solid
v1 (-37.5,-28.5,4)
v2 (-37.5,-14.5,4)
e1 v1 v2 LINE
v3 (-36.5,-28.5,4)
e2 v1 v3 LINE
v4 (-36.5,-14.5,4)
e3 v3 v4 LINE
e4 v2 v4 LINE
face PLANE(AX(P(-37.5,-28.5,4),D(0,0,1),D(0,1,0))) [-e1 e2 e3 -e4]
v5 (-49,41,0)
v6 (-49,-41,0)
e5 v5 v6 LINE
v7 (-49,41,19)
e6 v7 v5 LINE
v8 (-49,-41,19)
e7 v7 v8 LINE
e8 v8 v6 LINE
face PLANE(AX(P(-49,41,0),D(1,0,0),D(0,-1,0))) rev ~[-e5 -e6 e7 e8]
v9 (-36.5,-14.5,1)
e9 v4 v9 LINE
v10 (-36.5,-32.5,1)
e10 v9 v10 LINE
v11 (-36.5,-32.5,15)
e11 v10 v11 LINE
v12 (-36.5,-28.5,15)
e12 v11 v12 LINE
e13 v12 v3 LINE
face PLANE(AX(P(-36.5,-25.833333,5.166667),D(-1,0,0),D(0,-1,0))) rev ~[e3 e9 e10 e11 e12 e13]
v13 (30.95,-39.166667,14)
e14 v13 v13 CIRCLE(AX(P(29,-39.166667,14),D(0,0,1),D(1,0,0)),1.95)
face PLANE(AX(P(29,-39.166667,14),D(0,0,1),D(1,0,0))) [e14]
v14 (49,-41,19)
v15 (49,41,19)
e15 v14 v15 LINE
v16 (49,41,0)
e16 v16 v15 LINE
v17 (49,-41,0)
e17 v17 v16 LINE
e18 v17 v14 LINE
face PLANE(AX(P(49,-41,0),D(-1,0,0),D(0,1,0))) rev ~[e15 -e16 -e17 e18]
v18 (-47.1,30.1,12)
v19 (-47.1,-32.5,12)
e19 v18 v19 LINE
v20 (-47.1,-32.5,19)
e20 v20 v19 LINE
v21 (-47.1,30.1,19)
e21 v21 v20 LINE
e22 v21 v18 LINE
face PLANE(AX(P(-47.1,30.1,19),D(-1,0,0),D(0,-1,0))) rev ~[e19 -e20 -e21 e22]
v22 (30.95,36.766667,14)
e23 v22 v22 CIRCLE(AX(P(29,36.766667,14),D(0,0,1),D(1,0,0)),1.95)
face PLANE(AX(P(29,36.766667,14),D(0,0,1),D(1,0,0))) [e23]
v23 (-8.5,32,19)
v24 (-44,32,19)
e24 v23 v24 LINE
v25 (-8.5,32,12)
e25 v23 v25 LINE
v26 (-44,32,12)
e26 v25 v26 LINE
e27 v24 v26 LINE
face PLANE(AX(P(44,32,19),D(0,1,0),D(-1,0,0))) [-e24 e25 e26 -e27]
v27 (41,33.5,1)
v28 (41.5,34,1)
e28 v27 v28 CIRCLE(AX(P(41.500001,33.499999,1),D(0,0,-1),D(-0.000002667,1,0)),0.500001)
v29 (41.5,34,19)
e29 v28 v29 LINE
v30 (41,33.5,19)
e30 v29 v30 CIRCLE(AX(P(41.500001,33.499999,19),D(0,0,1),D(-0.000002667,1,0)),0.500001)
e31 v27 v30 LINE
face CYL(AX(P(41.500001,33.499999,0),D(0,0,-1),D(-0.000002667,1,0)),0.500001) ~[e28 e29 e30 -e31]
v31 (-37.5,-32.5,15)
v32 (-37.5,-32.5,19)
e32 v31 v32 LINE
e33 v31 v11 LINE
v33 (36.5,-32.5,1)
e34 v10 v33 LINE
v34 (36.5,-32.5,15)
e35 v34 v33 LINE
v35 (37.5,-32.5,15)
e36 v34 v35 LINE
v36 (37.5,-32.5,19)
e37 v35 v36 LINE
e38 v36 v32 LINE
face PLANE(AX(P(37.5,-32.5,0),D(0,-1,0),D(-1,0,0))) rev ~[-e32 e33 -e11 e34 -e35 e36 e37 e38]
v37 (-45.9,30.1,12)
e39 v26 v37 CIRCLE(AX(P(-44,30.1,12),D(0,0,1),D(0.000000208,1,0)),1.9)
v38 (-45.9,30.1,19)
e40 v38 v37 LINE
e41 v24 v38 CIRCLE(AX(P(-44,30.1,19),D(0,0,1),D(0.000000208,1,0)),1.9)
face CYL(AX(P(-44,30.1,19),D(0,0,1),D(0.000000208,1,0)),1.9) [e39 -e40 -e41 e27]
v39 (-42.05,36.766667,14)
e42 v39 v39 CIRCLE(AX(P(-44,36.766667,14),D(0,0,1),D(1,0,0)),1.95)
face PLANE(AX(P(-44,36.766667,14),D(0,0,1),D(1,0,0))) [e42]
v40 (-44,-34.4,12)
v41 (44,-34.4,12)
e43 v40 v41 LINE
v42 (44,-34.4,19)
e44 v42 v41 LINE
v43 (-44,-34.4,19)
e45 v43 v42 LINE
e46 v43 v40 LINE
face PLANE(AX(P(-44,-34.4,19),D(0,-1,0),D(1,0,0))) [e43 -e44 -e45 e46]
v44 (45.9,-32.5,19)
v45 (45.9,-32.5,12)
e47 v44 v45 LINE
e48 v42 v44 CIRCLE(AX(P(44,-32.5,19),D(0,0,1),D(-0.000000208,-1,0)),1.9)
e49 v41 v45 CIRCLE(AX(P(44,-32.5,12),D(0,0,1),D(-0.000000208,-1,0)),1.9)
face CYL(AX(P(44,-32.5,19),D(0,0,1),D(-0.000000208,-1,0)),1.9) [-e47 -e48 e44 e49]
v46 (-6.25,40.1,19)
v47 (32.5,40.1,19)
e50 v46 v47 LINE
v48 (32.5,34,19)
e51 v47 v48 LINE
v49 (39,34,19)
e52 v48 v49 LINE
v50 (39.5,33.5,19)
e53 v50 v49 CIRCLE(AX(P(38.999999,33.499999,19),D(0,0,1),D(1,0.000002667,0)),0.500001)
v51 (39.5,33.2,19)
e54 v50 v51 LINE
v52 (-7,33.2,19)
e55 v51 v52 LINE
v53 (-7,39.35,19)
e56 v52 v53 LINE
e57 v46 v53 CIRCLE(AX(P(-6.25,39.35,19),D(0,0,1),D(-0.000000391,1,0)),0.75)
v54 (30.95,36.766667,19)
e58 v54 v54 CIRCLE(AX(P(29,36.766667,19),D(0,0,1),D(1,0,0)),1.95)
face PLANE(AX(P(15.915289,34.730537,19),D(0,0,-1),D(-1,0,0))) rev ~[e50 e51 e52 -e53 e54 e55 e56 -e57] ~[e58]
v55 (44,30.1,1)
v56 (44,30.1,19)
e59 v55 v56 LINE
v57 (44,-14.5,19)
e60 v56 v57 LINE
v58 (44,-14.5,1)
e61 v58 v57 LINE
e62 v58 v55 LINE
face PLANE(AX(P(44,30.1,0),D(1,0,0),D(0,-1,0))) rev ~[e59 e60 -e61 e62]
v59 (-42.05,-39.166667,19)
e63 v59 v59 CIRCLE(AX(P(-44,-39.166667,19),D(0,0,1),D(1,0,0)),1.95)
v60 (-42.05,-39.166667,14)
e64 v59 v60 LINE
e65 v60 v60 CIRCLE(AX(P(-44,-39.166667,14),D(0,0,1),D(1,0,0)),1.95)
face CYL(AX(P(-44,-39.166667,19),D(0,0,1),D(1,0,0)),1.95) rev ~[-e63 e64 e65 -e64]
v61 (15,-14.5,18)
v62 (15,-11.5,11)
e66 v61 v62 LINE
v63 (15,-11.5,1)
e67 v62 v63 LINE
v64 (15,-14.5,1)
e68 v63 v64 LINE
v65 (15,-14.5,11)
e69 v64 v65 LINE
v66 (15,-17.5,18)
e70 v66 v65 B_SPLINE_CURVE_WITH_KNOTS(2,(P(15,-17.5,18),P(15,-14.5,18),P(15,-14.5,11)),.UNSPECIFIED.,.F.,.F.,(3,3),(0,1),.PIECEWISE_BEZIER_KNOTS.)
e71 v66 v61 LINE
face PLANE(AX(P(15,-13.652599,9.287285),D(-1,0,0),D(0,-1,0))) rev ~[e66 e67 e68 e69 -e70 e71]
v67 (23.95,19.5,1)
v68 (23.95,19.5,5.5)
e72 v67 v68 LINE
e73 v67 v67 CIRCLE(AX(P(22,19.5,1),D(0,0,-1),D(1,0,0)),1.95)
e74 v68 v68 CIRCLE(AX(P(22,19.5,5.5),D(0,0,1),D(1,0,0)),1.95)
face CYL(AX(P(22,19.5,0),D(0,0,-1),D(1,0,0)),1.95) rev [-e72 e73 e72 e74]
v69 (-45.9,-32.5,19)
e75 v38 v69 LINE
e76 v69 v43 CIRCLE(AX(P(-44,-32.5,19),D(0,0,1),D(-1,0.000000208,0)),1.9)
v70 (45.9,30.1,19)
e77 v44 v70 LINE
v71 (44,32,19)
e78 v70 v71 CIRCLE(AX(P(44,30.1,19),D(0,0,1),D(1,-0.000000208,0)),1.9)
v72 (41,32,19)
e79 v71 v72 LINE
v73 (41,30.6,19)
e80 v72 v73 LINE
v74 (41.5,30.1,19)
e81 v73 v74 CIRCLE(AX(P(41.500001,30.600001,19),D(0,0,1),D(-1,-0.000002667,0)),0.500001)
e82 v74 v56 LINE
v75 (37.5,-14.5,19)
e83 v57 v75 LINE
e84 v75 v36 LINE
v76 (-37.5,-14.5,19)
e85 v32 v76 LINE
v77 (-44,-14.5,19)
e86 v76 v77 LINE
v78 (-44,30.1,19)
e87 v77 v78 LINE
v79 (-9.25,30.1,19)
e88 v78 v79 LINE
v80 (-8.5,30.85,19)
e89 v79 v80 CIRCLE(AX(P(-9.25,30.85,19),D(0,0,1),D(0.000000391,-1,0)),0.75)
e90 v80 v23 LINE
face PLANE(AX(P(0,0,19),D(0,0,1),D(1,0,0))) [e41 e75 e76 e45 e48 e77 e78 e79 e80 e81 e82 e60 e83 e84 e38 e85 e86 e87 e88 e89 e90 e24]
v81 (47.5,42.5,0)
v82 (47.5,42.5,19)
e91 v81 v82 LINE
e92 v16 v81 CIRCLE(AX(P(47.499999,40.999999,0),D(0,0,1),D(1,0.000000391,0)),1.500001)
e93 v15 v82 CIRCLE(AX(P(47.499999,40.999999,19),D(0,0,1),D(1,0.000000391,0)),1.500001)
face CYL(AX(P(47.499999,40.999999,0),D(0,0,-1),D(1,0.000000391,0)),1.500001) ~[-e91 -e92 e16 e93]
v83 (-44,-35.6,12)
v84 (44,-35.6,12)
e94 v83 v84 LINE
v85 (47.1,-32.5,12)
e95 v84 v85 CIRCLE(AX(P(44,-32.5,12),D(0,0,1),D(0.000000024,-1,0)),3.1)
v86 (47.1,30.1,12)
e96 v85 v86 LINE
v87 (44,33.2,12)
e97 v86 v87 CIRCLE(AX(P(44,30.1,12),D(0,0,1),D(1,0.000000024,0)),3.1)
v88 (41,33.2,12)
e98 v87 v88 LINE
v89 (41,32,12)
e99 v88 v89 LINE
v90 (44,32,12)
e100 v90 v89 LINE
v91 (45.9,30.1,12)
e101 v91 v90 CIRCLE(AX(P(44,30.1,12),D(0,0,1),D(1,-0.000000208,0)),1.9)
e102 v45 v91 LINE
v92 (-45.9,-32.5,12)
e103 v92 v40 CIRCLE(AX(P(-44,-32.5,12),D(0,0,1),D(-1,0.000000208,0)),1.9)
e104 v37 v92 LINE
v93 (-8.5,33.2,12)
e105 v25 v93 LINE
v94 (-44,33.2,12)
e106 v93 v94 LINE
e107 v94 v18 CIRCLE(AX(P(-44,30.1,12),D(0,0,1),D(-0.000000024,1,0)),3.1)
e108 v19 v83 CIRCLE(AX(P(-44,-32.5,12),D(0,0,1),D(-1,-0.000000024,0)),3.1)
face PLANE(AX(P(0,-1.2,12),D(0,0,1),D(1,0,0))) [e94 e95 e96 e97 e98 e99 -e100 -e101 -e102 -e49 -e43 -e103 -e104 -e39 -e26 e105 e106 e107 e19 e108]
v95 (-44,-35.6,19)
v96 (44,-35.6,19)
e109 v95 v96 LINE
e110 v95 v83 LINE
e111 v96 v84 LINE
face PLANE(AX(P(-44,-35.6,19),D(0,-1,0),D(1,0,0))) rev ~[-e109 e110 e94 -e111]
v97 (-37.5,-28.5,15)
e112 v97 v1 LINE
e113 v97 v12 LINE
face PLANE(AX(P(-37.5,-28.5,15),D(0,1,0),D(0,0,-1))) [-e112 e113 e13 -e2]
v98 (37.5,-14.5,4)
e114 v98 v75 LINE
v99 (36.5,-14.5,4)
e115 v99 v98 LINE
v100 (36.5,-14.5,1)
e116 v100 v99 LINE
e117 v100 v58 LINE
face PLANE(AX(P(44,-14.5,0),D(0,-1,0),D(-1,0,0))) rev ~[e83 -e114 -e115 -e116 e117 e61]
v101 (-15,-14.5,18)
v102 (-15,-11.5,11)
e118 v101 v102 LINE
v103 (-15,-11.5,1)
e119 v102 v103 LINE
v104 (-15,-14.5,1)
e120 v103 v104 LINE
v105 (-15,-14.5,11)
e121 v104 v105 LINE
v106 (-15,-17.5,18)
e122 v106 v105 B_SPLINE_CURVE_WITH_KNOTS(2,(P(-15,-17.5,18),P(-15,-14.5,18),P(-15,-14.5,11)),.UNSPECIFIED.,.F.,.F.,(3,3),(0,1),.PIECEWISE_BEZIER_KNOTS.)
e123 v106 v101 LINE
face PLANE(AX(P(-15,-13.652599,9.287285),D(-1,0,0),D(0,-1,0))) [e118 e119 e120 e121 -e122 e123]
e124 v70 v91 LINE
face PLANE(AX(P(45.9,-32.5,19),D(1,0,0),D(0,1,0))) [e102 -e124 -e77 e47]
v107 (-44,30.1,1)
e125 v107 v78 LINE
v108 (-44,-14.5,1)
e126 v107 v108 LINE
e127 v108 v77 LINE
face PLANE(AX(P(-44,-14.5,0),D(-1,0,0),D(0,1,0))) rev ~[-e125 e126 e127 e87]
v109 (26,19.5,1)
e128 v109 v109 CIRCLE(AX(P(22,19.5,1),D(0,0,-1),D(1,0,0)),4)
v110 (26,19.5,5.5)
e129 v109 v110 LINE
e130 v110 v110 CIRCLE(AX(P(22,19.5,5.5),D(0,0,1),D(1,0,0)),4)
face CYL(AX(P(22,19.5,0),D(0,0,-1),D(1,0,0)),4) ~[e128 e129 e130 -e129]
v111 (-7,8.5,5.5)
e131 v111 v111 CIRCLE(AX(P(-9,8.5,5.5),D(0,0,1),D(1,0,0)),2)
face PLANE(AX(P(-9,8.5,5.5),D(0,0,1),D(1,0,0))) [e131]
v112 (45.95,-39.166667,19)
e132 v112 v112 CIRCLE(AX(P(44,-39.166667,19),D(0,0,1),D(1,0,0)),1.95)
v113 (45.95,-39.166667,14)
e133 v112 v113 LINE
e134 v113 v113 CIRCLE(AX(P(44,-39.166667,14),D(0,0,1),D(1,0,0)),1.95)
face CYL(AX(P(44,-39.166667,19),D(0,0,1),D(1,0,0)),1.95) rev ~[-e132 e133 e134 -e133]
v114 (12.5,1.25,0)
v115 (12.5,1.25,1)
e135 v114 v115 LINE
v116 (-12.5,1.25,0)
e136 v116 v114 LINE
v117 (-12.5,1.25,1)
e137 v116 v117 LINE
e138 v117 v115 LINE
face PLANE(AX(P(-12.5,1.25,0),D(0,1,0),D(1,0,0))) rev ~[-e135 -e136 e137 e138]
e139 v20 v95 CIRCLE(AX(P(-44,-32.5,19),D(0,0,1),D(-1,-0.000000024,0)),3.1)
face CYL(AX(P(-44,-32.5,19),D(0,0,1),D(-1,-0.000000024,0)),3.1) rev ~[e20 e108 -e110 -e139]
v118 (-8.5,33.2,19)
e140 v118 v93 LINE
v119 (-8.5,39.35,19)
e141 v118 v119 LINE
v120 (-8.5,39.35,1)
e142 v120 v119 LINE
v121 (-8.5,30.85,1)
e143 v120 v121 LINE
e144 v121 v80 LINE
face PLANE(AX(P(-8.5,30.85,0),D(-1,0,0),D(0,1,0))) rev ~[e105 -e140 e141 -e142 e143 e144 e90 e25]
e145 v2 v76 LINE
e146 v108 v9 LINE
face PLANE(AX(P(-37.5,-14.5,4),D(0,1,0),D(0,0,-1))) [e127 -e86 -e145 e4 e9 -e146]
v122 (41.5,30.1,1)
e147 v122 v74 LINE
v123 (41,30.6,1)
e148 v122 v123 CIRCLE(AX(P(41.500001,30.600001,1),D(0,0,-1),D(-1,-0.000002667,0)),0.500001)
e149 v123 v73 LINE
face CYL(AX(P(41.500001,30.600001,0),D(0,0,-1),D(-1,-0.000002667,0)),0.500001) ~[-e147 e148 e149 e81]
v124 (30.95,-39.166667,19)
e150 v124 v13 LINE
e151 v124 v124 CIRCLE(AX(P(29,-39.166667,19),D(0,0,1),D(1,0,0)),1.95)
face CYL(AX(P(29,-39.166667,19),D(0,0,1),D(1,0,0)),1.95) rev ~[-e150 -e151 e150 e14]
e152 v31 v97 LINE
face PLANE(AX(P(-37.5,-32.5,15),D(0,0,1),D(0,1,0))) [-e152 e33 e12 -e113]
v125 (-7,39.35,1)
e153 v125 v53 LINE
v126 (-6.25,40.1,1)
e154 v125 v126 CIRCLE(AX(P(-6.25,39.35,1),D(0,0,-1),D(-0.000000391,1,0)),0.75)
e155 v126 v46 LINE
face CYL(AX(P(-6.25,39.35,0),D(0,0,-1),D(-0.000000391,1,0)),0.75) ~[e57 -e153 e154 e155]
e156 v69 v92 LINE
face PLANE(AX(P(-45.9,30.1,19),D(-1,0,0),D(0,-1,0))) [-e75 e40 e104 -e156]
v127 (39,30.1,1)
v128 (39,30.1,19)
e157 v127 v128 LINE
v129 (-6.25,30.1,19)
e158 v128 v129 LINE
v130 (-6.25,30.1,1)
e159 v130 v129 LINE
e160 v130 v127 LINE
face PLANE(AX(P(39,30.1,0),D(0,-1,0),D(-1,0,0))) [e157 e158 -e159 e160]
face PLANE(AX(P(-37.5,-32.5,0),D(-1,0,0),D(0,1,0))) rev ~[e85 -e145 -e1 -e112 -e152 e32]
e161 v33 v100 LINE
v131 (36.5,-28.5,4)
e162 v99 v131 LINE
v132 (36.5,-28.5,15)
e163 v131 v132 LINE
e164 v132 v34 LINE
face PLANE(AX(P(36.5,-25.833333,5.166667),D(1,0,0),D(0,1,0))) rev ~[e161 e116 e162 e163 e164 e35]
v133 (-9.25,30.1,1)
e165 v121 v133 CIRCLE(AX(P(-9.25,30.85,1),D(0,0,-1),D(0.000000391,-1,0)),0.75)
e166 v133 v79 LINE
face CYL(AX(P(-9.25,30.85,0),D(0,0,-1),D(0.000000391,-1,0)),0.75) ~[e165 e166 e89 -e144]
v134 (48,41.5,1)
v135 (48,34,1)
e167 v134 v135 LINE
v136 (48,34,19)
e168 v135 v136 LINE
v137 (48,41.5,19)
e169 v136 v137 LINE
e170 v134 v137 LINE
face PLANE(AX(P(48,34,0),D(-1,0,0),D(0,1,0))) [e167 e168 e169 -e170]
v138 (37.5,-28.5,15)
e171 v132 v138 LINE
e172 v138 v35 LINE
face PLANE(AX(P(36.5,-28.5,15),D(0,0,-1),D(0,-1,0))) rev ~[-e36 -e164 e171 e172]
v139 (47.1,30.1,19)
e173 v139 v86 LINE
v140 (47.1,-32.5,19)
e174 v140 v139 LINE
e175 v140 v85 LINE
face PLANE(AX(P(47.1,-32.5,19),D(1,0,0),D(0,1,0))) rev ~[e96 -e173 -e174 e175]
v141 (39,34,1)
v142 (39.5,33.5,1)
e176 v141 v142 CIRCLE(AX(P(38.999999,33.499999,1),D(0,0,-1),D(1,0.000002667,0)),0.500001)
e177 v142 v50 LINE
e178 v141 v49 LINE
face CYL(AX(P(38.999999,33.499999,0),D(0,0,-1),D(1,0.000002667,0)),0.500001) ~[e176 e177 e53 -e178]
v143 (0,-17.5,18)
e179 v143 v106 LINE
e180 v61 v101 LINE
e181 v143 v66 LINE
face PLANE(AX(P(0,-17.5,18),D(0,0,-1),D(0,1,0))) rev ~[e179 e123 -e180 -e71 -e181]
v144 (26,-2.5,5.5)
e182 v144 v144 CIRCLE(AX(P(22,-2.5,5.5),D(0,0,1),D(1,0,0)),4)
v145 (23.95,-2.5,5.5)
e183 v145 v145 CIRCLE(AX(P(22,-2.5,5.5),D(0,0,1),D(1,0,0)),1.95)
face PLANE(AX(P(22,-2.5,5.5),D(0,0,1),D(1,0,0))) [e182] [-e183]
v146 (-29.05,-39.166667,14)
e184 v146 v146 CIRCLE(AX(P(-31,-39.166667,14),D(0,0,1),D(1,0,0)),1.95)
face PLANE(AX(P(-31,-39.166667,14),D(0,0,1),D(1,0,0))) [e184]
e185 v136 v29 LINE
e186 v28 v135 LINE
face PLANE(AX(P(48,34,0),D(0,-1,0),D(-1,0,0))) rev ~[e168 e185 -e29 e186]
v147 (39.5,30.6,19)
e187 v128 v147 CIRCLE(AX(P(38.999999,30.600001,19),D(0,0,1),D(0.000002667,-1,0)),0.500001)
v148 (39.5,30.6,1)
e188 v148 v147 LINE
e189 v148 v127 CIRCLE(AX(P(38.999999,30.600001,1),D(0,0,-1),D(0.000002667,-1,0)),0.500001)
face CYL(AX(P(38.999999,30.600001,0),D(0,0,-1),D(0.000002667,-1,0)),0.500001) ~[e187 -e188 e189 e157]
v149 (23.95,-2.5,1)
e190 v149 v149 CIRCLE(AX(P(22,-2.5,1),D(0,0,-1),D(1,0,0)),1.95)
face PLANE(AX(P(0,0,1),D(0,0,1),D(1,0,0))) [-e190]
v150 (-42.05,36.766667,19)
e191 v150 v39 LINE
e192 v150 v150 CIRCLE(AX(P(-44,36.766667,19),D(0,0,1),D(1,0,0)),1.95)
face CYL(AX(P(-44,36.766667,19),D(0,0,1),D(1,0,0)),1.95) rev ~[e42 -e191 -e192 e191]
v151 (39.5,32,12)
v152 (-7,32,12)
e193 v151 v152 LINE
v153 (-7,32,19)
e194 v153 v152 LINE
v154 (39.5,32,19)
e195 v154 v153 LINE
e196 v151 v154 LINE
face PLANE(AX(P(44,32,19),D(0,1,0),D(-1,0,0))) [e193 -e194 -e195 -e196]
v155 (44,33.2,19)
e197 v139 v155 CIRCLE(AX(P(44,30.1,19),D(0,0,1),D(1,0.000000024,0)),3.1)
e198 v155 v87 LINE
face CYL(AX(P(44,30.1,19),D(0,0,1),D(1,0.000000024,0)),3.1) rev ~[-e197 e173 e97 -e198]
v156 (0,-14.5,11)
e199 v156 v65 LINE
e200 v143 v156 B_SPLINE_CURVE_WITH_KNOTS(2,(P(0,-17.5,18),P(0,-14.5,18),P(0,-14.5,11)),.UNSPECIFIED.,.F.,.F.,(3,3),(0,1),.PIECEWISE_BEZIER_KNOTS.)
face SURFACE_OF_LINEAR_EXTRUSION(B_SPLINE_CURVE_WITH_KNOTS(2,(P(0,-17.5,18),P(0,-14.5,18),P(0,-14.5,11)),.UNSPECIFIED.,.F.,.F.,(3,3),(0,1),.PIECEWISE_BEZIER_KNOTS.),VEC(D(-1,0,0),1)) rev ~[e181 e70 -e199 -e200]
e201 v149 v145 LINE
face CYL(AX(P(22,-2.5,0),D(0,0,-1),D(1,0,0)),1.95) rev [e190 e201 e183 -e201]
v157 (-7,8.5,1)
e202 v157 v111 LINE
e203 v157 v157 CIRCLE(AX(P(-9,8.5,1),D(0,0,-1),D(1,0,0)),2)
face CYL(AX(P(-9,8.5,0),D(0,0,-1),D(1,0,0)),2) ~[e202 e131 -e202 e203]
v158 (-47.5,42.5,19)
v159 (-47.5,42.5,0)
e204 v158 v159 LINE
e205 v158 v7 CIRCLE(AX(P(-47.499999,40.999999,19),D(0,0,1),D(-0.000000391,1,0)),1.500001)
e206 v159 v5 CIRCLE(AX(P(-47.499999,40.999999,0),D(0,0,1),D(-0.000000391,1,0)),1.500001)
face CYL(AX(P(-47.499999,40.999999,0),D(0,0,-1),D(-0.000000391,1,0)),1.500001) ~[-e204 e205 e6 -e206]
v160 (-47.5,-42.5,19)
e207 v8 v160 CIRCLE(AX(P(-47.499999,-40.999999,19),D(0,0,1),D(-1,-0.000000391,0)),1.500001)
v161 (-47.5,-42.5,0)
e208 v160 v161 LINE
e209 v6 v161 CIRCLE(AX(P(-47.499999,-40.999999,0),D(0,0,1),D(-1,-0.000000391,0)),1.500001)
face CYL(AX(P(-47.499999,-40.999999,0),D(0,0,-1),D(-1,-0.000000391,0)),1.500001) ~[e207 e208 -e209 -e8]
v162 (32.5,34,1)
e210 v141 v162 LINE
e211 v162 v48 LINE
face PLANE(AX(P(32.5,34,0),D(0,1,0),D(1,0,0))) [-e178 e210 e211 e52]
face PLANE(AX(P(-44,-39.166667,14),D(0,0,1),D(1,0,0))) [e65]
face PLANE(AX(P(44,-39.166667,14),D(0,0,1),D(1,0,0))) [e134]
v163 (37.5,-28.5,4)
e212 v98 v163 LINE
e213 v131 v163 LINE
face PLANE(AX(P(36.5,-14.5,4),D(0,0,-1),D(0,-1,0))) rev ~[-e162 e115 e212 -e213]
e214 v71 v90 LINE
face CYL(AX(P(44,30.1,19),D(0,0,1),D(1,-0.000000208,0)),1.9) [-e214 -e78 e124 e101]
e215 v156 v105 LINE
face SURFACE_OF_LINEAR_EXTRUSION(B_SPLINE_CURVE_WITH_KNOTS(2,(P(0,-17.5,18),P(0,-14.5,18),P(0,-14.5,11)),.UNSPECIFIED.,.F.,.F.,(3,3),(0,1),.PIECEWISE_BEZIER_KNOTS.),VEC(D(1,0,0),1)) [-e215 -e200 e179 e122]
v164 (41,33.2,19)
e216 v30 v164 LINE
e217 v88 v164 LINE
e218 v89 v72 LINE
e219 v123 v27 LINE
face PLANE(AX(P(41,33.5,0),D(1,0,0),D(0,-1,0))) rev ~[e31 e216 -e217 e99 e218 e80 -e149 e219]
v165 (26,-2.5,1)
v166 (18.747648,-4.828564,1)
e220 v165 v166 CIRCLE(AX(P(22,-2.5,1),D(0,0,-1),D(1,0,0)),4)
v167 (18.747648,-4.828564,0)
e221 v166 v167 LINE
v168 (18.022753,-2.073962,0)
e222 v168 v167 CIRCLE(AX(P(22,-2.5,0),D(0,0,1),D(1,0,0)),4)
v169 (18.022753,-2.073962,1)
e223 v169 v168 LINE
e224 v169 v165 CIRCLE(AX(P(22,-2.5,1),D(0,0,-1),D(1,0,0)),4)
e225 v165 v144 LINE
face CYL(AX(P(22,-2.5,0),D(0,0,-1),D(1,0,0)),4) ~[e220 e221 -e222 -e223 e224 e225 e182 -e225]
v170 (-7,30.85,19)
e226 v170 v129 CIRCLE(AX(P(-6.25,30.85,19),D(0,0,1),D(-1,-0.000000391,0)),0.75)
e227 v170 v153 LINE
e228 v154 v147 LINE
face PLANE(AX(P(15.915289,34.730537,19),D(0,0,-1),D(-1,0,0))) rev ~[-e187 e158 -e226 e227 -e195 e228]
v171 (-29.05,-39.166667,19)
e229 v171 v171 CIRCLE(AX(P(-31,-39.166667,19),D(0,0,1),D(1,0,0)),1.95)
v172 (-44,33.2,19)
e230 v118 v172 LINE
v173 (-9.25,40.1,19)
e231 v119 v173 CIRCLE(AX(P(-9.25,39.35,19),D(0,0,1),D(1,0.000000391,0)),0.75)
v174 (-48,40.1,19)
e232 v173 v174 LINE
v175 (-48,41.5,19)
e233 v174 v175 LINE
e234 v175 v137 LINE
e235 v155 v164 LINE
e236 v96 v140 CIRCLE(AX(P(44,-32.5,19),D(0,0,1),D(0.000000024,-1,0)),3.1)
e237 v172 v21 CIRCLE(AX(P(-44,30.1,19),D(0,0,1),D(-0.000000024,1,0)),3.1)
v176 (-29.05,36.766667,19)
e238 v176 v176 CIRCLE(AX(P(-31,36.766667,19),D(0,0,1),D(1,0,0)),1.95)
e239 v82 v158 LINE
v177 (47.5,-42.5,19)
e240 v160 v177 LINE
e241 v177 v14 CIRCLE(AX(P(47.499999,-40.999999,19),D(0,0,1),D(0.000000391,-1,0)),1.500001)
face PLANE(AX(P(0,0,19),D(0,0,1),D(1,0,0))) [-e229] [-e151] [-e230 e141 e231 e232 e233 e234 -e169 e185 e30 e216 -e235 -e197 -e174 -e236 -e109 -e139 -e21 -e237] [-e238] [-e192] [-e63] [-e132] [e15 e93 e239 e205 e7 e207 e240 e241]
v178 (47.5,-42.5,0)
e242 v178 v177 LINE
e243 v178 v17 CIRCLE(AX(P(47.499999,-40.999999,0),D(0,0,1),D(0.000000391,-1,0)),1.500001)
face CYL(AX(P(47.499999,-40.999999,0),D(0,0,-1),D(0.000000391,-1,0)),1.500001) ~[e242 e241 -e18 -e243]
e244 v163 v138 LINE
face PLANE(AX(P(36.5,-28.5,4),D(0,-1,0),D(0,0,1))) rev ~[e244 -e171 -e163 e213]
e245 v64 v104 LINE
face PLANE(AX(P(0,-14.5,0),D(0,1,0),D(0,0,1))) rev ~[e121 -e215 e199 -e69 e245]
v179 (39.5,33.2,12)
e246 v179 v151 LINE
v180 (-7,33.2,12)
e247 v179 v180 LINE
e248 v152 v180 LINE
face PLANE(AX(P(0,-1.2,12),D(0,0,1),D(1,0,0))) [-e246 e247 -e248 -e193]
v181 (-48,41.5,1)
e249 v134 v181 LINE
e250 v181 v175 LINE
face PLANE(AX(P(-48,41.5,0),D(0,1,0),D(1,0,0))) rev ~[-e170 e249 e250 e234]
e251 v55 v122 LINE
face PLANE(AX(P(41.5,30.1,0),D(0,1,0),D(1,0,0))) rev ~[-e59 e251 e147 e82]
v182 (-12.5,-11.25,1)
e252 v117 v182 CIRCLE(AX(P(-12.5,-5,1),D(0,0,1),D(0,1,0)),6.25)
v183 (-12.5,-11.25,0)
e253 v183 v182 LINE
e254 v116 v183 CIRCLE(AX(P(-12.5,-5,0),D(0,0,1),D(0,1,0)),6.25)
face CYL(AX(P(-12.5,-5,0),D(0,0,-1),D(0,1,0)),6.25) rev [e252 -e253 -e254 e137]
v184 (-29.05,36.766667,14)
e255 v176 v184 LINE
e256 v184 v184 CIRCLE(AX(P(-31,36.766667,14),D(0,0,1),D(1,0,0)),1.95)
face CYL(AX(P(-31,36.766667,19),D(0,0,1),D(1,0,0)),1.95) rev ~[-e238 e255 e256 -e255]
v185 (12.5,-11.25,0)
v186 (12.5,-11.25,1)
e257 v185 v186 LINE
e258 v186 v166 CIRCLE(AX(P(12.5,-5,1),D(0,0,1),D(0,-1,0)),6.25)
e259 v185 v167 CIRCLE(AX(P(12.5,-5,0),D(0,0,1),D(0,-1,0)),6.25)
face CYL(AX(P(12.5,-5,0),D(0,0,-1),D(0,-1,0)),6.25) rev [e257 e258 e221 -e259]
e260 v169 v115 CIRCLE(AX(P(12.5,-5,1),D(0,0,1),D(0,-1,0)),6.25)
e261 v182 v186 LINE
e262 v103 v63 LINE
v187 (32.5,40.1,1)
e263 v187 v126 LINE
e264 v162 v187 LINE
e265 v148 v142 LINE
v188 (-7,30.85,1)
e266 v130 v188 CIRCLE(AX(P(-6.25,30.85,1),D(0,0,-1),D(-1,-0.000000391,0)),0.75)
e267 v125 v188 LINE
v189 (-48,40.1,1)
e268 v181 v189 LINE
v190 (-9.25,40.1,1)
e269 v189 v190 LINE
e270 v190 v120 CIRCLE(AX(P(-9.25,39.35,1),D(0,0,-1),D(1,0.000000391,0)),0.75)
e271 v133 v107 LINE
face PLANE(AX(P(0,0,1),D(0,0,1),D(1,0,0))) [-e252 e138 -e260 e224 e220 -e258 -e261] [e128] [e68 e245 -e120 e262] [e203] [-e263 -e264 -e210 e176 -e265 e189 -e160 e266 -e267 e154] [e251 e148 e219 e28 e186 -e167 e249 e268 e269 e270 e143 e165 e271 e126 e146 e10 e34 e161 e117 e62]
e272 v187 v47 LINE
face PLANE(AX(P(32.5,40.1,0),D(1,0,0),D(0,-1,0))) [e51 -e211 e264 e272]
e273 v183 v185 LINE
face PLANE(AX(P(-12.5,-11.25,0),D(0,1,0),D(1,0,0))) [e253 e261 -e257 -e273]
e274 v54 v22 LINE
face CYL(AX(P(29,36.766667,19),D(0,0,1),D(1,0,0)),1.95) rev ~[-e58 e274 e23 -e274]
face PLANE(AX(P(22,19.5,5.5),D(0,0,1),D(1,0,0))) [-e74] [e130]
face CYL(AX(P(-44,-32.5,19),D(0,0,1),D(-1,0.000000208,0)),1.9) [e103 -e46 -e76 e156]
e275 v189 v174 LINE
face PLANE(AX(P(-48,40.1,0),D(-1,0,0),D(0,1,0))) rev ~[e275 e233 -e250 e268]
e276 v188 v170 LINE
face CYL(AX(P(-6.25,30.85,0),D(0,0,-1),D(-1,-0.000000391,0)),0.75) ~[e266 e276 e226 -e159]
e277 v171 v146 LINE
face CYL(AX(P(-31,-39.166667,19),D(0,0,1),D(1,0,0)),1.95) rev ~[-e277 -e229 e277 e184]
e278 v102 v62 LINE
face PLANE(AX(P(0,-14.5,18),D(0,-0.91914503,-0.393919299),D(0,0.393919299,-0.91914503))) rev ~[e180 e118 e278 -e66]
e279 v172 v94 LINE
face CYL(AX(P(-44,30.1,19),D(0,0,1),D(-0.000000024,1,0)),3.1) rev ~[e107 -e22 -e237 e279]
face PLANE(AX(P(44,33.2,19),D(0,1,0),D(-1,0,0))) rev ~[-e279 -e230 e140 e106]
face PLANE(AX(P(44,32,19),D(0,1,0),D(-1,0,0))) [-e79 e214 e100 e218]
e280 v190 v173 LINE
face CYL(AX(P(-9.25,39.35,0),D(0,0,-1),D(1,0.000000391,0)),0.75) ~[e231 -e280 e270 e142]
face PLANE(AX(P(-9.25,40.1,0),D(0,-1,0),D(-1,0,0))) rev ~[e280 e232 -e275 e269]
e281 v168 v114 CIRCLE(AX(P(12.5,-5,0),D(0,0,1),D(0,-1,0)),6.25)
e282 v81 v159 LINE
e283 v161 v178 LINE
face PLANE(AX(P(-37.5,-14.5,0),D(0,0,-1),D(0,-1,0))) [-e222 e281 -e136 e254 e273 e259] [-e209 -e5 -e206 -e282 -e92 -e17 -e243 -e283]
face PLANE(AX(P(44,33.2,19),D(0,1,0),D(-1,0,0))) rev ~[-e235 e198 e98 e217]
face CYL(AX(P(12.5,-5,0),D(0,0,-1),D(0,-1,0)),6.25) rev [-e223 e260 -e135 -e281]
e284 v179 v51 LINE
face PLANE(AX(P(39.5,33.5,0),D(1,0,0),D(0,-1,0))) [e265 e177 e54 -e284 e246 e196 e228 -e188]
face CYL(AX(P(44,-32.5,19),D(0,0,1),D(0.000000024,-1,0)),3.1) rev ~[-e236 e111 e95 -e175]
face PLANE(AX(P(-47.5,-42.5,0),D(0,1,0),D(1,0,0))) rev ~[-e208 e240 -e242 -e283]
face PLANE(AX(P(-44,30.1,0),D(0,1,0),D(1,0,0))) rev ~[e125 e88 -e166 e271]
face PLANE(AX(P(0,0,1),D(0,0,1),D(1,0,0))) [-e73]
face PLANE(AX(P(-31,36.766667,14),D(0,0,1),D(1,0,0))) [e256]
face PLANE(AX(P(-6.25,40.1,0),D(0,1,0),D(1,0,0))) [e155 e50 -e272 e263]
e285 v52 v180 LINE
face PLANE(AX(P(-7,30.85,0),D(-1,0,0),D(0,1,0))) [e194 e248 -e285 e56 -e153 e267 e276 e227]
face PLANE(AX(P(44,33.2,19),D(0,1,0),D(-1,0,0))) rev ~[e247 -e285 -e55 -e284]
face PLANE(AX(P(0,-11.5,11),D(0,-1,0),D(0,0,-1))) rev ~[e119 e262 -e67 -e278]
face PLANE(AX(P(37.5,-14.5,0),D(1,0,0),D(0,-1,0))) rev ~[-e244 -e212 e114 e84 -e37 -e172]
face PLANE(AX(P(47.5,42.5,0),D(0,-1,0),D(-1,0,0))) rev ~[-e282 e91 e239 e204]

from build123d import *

# Parameters (mm, degrees)
PAD_DEPTH       = 1
PAD001_DEPTH    = 19
SKETCH002_R     = 4
SKETCH002_R_2   = 1.95
SKETCH002_R_3   = 2
PAD002_DEPTH    = 5.5
PAD003_DEPTH    = 15
POCKET_DEPTH    = 7
PAD004_DEPTH    = 1
SKETCH007_R     = 1.95
POCKET001_DEPTH = 5
PAD014_DEPTH    = 1


with BuildPart() as part:
    # Sketch → Pad (new body)
    with BuildSketch(Plane.XY):
        with BuildLine():
            Line((-47.5, -42.5), (47.5, -42.5))
            ThreePointArc((47.5, -42.5), (48.56066, -42.06066), (49, -41))
            Line((49, -41), (49, 41))
            ThreePointArc((49, 41), (48.56066, 42.06066), (47.5, 42.5))
            Line((47.5, 42.5), (-47.5, 42.5))
            ThreePointArc((-47.5, 42.5), (-48.56066, 42.06066), (-49, 41))
            Line((-49, 41), (-49, -41))
            ThreePointArc((-49, -41), (-48.56066, -42.06066), (-47.5, -42.5))
        make_face()
        with BuildLine():
            ThreePointArc((-12.5, 1.25), (-18.75, -5), (-12.5, -11.25))
            Line((-12.5, -11.25), (12.5, -11.25))
            ThreePointArc((12.5, -11.25), (18.75, -5), (12.5, 1.25))
            Line((-12.5, 1.25), (12.5, 1.25))
        make_face(mode=Mode.SUBTRACT)
    extrude(amount=PAD_DEPTH)

    # Sketch001 → Pad001 (join)
    with BuildSketch(Plane.XY):
        with BuildLine():
            Line((-47.5, -42.5), (47.5, -42.5))
            ThreePointArc((47.5, -42.5), (48.56066, -42.06066), (49, -41))
            Line((49, -41), (49, 41))
            ThreePointArc((49, 41), (48.56066, 42.06066), (47.5, 42.5))
            Line((47.5, 42.5), (-47.5, 42.5))
            ThreePointArc((-47.5, 42.5), (-48.56066, 42.06066), (-49, 41))
            Line((-49, 41), (-49, -41))
            ThreePointArc((-49, -41), (-48.56066, -42.06066), (-47.5, -42.5))
        make_face()
        with BuildLine():
            Line((44, 30.1), (44, -14.5))
            Line((44, -14.5), (37.5, -14.5))
            Line((37.5, -14.5), (37.5, -32.5))
            Line((37.5, -32.5), (-37.5, -32.5))
            Line((-37.5, -32.5), (-37.5, -14.5))
            Line((-37.5, -14.5), (-44, -14.5))
            Line((-44, -14.5), (-44, 30.1))
            Line((-44, 30.1), (-9.25, 30.1))
            ThreePointArc((-9.25, 30.1), (-8.71967, 30.31967), (-8.5, 30.85))
            Line((-8.5, 30.85), (-8.5, 39.35))
            ThreePointArc((-8.5, 39.35), (-8.71967, 39.88033), (-9.25, 40.1))
            Line((-9.25, 40.1), (-48, 40.1))
            Line((-48, 40.1), (-48, 41.5))
            Line((-48, 41.5), (48, 41.5))
            Line((48, 34), (48, 41.5))
            Line((48, 34), (41.5, 34))
            ThreePointArc((41.5, 34), (41.146447, 33.853553), (41, 33.5))
            Line((41, 33.5), (41, 30.6))
            ThreePointArc((41, 30.6), (41.146447, 30.246447), (41.5, 30.1))
            Line((41.5, 30.1), (44, 30.1))
        make_face(mode=Mode.SUBTRACT)
        with BuildLine():
            Line((-7, 30.85), (-7, 39.35))
            ThreePointArc((-6.25, 40.1), (-6.78033, 39.88033), (-7, 39.35))
            Line((-6.25, 40.1), (32.5, 40.1))
            Line((32.5, 40.1), (32.5, 34))
            Line((32.5, 34), (39, 34))
            ThreePointArc((39.5, 33.5), (39.353553, 33.853553), (39, 34))
            Line((39.5, 33.5), (39.5, 30.6))
            ThreePointArc((39, 30.1), (39.353553, 30.246447), (39.5, 30.6))
            Line((39, 30.1), (-6.25, 30.1))
            ThreePointArc((-7, 30.85), (-6.78033, 30.31967), (-6.25, 30.1))
        make_face()
    extrude(amount=PAD001_DEPTH)

    # Sketch002 → Pad002 (join)
    with BuildSketch(Plane.XY):
        with Locations((22, 19.5)):
            Circle(SKETCH002_R)
        with Locations((22, 19.5)):
            Circle(SKETCH002_R_2, mode=Mode.SUBTRACT)
        with Locations((22, -2.5)):
            Circle(SKETCH002_R)
        with Locations((22, -2.5)):
            Circle(SKETCH002_R_2, mode=Mode.SUBTRACT)
        with Locations((-9, 8.5)):
            Circle(SKETCH002_R_3)
    extrude(amount=PAD002_DEPTH)

    # Sketch003 → Pad003 (join, symmetric)
    with BuildSketch(Plane.YZ):
        with BuildLine():
            Line((-14.5, 0), (-14.5, 11))
            add(Edge.make_bspline(
                [(-17.5, 18), (-14.5, 18), (-14.5, 11)],
                knots=[0, 0, 0, 1, 1, 1], degree=2))
            Line((-17.5, 18), (-14.5, 18))
            Line((-14.5, 18), (-11.5, 11))
            Line((-11.5, 11), (-11.5, 0))
            Line((-11.5, 0), (-14.5, 0))
        make_face()
    extrude(amount=PAD003_DEPTH, both=True)

    # Sketch004 (on Face14 of Pad003) → Pocket (cut)
    with BuildSketch(Plane.XY.offset(19)):
        with BuildLine():
            Line((47.1, -32.5), (47.1, 30.1))
            ThreePointArc((47.1, 30.1), (46.192031, 32.292031), (44, 33.2))
            Line((44, 33.2), (-44, 33.2))
            ThreePointArc((-44, 33.2), (-46.192031, 32.292031), (-47.1, 30.1))
            Line((-47.1, 30.1), (-47.1, -32.5))
            ThreePointArc((-47.1, -32.5), (-46.192031, -34.692031), (-44, -35.6))
            Line((-44, -35.6), (44, -35.6))
            ThreePointArc((44, -35.6), (46.192031, -34.692031), (47.1, -32.5))
        make_face()
        with BuildLine():
            Line((45.9, -32.5), (45.9, 30.1))
            ThreePointArc((45.9, 30.1), (45.343503, 31.443503), (44, 32))
            Line((44, 32), (-44, 32))
            ThreePointArc((-44, 32), (-45.343503, 31.443503), (-45.9, 30.1))
            Line((-45.9, 30.1), (-45.9, -32.5))
            ThreePointArc((-45.9, -32.5), (-45.343503, -33.843503), (-44, -34.4))
            Line((-44, -34.4), (44, -34.4))
            ThreePointArc((44, -34.4), (45.343503, -33.843503), (45.9, -32.5))
        make_face(mode=Mode.SUBTRACT)
    extrude(amount=-POCKET_DEPTH, mode=Mode.SUBTRACT)

    # Sketch005 → Pad004 (join)
    with BuildSketch(Plane.YZ.offset(36.5)):
        Polygon((-14.5, 0), (-14.5, 4), (-28.5, 4), (-28.5, 15), (-32.5, 15), (-32.5, 0), align=None)
    extrude(amount=PAD004_DEPTH)

    # Sketch007 (on DatumPlane) → Pocket001 (cut)
    with BuildSketch(Plane.XY.offset(19)):
        with Locations((-44, -39.166667)):
            Circle(SKETCH007_R)
        with Locations((44, -39.166667)):
            Circle(SKETCH007_R)
        with Locations((-44, 36.766667)):
            Circle(SKETCH007_R)
        with Locations((29, 36.766667)):
            Circle(SKETCH007_R)
        with Locations((-31, 36.766667)):
            Circle(SKETCH007_R)
        with Locations((29, -39.166667)):
            Circle(SKETCH007_R)
        with Locations((-31, -39.166667)):
            Circle(SKETCH007_R)
    extrude(amount=-POCKET001_DEPTH, mode=Mode.SUBTRACT)

    # Sketch006 → Pad014 (join)
    with BuildSketch(Plane.YZ.offset(-37.5)):
        Polygon((-32.5, 0), (-32.5, 15), (-28.5, 15), (-28.5, 4), (-14.5, 4), (-14.5, 0), align=None)
    extrude(amount=PAD014_DEPTH)


solid = part.part
